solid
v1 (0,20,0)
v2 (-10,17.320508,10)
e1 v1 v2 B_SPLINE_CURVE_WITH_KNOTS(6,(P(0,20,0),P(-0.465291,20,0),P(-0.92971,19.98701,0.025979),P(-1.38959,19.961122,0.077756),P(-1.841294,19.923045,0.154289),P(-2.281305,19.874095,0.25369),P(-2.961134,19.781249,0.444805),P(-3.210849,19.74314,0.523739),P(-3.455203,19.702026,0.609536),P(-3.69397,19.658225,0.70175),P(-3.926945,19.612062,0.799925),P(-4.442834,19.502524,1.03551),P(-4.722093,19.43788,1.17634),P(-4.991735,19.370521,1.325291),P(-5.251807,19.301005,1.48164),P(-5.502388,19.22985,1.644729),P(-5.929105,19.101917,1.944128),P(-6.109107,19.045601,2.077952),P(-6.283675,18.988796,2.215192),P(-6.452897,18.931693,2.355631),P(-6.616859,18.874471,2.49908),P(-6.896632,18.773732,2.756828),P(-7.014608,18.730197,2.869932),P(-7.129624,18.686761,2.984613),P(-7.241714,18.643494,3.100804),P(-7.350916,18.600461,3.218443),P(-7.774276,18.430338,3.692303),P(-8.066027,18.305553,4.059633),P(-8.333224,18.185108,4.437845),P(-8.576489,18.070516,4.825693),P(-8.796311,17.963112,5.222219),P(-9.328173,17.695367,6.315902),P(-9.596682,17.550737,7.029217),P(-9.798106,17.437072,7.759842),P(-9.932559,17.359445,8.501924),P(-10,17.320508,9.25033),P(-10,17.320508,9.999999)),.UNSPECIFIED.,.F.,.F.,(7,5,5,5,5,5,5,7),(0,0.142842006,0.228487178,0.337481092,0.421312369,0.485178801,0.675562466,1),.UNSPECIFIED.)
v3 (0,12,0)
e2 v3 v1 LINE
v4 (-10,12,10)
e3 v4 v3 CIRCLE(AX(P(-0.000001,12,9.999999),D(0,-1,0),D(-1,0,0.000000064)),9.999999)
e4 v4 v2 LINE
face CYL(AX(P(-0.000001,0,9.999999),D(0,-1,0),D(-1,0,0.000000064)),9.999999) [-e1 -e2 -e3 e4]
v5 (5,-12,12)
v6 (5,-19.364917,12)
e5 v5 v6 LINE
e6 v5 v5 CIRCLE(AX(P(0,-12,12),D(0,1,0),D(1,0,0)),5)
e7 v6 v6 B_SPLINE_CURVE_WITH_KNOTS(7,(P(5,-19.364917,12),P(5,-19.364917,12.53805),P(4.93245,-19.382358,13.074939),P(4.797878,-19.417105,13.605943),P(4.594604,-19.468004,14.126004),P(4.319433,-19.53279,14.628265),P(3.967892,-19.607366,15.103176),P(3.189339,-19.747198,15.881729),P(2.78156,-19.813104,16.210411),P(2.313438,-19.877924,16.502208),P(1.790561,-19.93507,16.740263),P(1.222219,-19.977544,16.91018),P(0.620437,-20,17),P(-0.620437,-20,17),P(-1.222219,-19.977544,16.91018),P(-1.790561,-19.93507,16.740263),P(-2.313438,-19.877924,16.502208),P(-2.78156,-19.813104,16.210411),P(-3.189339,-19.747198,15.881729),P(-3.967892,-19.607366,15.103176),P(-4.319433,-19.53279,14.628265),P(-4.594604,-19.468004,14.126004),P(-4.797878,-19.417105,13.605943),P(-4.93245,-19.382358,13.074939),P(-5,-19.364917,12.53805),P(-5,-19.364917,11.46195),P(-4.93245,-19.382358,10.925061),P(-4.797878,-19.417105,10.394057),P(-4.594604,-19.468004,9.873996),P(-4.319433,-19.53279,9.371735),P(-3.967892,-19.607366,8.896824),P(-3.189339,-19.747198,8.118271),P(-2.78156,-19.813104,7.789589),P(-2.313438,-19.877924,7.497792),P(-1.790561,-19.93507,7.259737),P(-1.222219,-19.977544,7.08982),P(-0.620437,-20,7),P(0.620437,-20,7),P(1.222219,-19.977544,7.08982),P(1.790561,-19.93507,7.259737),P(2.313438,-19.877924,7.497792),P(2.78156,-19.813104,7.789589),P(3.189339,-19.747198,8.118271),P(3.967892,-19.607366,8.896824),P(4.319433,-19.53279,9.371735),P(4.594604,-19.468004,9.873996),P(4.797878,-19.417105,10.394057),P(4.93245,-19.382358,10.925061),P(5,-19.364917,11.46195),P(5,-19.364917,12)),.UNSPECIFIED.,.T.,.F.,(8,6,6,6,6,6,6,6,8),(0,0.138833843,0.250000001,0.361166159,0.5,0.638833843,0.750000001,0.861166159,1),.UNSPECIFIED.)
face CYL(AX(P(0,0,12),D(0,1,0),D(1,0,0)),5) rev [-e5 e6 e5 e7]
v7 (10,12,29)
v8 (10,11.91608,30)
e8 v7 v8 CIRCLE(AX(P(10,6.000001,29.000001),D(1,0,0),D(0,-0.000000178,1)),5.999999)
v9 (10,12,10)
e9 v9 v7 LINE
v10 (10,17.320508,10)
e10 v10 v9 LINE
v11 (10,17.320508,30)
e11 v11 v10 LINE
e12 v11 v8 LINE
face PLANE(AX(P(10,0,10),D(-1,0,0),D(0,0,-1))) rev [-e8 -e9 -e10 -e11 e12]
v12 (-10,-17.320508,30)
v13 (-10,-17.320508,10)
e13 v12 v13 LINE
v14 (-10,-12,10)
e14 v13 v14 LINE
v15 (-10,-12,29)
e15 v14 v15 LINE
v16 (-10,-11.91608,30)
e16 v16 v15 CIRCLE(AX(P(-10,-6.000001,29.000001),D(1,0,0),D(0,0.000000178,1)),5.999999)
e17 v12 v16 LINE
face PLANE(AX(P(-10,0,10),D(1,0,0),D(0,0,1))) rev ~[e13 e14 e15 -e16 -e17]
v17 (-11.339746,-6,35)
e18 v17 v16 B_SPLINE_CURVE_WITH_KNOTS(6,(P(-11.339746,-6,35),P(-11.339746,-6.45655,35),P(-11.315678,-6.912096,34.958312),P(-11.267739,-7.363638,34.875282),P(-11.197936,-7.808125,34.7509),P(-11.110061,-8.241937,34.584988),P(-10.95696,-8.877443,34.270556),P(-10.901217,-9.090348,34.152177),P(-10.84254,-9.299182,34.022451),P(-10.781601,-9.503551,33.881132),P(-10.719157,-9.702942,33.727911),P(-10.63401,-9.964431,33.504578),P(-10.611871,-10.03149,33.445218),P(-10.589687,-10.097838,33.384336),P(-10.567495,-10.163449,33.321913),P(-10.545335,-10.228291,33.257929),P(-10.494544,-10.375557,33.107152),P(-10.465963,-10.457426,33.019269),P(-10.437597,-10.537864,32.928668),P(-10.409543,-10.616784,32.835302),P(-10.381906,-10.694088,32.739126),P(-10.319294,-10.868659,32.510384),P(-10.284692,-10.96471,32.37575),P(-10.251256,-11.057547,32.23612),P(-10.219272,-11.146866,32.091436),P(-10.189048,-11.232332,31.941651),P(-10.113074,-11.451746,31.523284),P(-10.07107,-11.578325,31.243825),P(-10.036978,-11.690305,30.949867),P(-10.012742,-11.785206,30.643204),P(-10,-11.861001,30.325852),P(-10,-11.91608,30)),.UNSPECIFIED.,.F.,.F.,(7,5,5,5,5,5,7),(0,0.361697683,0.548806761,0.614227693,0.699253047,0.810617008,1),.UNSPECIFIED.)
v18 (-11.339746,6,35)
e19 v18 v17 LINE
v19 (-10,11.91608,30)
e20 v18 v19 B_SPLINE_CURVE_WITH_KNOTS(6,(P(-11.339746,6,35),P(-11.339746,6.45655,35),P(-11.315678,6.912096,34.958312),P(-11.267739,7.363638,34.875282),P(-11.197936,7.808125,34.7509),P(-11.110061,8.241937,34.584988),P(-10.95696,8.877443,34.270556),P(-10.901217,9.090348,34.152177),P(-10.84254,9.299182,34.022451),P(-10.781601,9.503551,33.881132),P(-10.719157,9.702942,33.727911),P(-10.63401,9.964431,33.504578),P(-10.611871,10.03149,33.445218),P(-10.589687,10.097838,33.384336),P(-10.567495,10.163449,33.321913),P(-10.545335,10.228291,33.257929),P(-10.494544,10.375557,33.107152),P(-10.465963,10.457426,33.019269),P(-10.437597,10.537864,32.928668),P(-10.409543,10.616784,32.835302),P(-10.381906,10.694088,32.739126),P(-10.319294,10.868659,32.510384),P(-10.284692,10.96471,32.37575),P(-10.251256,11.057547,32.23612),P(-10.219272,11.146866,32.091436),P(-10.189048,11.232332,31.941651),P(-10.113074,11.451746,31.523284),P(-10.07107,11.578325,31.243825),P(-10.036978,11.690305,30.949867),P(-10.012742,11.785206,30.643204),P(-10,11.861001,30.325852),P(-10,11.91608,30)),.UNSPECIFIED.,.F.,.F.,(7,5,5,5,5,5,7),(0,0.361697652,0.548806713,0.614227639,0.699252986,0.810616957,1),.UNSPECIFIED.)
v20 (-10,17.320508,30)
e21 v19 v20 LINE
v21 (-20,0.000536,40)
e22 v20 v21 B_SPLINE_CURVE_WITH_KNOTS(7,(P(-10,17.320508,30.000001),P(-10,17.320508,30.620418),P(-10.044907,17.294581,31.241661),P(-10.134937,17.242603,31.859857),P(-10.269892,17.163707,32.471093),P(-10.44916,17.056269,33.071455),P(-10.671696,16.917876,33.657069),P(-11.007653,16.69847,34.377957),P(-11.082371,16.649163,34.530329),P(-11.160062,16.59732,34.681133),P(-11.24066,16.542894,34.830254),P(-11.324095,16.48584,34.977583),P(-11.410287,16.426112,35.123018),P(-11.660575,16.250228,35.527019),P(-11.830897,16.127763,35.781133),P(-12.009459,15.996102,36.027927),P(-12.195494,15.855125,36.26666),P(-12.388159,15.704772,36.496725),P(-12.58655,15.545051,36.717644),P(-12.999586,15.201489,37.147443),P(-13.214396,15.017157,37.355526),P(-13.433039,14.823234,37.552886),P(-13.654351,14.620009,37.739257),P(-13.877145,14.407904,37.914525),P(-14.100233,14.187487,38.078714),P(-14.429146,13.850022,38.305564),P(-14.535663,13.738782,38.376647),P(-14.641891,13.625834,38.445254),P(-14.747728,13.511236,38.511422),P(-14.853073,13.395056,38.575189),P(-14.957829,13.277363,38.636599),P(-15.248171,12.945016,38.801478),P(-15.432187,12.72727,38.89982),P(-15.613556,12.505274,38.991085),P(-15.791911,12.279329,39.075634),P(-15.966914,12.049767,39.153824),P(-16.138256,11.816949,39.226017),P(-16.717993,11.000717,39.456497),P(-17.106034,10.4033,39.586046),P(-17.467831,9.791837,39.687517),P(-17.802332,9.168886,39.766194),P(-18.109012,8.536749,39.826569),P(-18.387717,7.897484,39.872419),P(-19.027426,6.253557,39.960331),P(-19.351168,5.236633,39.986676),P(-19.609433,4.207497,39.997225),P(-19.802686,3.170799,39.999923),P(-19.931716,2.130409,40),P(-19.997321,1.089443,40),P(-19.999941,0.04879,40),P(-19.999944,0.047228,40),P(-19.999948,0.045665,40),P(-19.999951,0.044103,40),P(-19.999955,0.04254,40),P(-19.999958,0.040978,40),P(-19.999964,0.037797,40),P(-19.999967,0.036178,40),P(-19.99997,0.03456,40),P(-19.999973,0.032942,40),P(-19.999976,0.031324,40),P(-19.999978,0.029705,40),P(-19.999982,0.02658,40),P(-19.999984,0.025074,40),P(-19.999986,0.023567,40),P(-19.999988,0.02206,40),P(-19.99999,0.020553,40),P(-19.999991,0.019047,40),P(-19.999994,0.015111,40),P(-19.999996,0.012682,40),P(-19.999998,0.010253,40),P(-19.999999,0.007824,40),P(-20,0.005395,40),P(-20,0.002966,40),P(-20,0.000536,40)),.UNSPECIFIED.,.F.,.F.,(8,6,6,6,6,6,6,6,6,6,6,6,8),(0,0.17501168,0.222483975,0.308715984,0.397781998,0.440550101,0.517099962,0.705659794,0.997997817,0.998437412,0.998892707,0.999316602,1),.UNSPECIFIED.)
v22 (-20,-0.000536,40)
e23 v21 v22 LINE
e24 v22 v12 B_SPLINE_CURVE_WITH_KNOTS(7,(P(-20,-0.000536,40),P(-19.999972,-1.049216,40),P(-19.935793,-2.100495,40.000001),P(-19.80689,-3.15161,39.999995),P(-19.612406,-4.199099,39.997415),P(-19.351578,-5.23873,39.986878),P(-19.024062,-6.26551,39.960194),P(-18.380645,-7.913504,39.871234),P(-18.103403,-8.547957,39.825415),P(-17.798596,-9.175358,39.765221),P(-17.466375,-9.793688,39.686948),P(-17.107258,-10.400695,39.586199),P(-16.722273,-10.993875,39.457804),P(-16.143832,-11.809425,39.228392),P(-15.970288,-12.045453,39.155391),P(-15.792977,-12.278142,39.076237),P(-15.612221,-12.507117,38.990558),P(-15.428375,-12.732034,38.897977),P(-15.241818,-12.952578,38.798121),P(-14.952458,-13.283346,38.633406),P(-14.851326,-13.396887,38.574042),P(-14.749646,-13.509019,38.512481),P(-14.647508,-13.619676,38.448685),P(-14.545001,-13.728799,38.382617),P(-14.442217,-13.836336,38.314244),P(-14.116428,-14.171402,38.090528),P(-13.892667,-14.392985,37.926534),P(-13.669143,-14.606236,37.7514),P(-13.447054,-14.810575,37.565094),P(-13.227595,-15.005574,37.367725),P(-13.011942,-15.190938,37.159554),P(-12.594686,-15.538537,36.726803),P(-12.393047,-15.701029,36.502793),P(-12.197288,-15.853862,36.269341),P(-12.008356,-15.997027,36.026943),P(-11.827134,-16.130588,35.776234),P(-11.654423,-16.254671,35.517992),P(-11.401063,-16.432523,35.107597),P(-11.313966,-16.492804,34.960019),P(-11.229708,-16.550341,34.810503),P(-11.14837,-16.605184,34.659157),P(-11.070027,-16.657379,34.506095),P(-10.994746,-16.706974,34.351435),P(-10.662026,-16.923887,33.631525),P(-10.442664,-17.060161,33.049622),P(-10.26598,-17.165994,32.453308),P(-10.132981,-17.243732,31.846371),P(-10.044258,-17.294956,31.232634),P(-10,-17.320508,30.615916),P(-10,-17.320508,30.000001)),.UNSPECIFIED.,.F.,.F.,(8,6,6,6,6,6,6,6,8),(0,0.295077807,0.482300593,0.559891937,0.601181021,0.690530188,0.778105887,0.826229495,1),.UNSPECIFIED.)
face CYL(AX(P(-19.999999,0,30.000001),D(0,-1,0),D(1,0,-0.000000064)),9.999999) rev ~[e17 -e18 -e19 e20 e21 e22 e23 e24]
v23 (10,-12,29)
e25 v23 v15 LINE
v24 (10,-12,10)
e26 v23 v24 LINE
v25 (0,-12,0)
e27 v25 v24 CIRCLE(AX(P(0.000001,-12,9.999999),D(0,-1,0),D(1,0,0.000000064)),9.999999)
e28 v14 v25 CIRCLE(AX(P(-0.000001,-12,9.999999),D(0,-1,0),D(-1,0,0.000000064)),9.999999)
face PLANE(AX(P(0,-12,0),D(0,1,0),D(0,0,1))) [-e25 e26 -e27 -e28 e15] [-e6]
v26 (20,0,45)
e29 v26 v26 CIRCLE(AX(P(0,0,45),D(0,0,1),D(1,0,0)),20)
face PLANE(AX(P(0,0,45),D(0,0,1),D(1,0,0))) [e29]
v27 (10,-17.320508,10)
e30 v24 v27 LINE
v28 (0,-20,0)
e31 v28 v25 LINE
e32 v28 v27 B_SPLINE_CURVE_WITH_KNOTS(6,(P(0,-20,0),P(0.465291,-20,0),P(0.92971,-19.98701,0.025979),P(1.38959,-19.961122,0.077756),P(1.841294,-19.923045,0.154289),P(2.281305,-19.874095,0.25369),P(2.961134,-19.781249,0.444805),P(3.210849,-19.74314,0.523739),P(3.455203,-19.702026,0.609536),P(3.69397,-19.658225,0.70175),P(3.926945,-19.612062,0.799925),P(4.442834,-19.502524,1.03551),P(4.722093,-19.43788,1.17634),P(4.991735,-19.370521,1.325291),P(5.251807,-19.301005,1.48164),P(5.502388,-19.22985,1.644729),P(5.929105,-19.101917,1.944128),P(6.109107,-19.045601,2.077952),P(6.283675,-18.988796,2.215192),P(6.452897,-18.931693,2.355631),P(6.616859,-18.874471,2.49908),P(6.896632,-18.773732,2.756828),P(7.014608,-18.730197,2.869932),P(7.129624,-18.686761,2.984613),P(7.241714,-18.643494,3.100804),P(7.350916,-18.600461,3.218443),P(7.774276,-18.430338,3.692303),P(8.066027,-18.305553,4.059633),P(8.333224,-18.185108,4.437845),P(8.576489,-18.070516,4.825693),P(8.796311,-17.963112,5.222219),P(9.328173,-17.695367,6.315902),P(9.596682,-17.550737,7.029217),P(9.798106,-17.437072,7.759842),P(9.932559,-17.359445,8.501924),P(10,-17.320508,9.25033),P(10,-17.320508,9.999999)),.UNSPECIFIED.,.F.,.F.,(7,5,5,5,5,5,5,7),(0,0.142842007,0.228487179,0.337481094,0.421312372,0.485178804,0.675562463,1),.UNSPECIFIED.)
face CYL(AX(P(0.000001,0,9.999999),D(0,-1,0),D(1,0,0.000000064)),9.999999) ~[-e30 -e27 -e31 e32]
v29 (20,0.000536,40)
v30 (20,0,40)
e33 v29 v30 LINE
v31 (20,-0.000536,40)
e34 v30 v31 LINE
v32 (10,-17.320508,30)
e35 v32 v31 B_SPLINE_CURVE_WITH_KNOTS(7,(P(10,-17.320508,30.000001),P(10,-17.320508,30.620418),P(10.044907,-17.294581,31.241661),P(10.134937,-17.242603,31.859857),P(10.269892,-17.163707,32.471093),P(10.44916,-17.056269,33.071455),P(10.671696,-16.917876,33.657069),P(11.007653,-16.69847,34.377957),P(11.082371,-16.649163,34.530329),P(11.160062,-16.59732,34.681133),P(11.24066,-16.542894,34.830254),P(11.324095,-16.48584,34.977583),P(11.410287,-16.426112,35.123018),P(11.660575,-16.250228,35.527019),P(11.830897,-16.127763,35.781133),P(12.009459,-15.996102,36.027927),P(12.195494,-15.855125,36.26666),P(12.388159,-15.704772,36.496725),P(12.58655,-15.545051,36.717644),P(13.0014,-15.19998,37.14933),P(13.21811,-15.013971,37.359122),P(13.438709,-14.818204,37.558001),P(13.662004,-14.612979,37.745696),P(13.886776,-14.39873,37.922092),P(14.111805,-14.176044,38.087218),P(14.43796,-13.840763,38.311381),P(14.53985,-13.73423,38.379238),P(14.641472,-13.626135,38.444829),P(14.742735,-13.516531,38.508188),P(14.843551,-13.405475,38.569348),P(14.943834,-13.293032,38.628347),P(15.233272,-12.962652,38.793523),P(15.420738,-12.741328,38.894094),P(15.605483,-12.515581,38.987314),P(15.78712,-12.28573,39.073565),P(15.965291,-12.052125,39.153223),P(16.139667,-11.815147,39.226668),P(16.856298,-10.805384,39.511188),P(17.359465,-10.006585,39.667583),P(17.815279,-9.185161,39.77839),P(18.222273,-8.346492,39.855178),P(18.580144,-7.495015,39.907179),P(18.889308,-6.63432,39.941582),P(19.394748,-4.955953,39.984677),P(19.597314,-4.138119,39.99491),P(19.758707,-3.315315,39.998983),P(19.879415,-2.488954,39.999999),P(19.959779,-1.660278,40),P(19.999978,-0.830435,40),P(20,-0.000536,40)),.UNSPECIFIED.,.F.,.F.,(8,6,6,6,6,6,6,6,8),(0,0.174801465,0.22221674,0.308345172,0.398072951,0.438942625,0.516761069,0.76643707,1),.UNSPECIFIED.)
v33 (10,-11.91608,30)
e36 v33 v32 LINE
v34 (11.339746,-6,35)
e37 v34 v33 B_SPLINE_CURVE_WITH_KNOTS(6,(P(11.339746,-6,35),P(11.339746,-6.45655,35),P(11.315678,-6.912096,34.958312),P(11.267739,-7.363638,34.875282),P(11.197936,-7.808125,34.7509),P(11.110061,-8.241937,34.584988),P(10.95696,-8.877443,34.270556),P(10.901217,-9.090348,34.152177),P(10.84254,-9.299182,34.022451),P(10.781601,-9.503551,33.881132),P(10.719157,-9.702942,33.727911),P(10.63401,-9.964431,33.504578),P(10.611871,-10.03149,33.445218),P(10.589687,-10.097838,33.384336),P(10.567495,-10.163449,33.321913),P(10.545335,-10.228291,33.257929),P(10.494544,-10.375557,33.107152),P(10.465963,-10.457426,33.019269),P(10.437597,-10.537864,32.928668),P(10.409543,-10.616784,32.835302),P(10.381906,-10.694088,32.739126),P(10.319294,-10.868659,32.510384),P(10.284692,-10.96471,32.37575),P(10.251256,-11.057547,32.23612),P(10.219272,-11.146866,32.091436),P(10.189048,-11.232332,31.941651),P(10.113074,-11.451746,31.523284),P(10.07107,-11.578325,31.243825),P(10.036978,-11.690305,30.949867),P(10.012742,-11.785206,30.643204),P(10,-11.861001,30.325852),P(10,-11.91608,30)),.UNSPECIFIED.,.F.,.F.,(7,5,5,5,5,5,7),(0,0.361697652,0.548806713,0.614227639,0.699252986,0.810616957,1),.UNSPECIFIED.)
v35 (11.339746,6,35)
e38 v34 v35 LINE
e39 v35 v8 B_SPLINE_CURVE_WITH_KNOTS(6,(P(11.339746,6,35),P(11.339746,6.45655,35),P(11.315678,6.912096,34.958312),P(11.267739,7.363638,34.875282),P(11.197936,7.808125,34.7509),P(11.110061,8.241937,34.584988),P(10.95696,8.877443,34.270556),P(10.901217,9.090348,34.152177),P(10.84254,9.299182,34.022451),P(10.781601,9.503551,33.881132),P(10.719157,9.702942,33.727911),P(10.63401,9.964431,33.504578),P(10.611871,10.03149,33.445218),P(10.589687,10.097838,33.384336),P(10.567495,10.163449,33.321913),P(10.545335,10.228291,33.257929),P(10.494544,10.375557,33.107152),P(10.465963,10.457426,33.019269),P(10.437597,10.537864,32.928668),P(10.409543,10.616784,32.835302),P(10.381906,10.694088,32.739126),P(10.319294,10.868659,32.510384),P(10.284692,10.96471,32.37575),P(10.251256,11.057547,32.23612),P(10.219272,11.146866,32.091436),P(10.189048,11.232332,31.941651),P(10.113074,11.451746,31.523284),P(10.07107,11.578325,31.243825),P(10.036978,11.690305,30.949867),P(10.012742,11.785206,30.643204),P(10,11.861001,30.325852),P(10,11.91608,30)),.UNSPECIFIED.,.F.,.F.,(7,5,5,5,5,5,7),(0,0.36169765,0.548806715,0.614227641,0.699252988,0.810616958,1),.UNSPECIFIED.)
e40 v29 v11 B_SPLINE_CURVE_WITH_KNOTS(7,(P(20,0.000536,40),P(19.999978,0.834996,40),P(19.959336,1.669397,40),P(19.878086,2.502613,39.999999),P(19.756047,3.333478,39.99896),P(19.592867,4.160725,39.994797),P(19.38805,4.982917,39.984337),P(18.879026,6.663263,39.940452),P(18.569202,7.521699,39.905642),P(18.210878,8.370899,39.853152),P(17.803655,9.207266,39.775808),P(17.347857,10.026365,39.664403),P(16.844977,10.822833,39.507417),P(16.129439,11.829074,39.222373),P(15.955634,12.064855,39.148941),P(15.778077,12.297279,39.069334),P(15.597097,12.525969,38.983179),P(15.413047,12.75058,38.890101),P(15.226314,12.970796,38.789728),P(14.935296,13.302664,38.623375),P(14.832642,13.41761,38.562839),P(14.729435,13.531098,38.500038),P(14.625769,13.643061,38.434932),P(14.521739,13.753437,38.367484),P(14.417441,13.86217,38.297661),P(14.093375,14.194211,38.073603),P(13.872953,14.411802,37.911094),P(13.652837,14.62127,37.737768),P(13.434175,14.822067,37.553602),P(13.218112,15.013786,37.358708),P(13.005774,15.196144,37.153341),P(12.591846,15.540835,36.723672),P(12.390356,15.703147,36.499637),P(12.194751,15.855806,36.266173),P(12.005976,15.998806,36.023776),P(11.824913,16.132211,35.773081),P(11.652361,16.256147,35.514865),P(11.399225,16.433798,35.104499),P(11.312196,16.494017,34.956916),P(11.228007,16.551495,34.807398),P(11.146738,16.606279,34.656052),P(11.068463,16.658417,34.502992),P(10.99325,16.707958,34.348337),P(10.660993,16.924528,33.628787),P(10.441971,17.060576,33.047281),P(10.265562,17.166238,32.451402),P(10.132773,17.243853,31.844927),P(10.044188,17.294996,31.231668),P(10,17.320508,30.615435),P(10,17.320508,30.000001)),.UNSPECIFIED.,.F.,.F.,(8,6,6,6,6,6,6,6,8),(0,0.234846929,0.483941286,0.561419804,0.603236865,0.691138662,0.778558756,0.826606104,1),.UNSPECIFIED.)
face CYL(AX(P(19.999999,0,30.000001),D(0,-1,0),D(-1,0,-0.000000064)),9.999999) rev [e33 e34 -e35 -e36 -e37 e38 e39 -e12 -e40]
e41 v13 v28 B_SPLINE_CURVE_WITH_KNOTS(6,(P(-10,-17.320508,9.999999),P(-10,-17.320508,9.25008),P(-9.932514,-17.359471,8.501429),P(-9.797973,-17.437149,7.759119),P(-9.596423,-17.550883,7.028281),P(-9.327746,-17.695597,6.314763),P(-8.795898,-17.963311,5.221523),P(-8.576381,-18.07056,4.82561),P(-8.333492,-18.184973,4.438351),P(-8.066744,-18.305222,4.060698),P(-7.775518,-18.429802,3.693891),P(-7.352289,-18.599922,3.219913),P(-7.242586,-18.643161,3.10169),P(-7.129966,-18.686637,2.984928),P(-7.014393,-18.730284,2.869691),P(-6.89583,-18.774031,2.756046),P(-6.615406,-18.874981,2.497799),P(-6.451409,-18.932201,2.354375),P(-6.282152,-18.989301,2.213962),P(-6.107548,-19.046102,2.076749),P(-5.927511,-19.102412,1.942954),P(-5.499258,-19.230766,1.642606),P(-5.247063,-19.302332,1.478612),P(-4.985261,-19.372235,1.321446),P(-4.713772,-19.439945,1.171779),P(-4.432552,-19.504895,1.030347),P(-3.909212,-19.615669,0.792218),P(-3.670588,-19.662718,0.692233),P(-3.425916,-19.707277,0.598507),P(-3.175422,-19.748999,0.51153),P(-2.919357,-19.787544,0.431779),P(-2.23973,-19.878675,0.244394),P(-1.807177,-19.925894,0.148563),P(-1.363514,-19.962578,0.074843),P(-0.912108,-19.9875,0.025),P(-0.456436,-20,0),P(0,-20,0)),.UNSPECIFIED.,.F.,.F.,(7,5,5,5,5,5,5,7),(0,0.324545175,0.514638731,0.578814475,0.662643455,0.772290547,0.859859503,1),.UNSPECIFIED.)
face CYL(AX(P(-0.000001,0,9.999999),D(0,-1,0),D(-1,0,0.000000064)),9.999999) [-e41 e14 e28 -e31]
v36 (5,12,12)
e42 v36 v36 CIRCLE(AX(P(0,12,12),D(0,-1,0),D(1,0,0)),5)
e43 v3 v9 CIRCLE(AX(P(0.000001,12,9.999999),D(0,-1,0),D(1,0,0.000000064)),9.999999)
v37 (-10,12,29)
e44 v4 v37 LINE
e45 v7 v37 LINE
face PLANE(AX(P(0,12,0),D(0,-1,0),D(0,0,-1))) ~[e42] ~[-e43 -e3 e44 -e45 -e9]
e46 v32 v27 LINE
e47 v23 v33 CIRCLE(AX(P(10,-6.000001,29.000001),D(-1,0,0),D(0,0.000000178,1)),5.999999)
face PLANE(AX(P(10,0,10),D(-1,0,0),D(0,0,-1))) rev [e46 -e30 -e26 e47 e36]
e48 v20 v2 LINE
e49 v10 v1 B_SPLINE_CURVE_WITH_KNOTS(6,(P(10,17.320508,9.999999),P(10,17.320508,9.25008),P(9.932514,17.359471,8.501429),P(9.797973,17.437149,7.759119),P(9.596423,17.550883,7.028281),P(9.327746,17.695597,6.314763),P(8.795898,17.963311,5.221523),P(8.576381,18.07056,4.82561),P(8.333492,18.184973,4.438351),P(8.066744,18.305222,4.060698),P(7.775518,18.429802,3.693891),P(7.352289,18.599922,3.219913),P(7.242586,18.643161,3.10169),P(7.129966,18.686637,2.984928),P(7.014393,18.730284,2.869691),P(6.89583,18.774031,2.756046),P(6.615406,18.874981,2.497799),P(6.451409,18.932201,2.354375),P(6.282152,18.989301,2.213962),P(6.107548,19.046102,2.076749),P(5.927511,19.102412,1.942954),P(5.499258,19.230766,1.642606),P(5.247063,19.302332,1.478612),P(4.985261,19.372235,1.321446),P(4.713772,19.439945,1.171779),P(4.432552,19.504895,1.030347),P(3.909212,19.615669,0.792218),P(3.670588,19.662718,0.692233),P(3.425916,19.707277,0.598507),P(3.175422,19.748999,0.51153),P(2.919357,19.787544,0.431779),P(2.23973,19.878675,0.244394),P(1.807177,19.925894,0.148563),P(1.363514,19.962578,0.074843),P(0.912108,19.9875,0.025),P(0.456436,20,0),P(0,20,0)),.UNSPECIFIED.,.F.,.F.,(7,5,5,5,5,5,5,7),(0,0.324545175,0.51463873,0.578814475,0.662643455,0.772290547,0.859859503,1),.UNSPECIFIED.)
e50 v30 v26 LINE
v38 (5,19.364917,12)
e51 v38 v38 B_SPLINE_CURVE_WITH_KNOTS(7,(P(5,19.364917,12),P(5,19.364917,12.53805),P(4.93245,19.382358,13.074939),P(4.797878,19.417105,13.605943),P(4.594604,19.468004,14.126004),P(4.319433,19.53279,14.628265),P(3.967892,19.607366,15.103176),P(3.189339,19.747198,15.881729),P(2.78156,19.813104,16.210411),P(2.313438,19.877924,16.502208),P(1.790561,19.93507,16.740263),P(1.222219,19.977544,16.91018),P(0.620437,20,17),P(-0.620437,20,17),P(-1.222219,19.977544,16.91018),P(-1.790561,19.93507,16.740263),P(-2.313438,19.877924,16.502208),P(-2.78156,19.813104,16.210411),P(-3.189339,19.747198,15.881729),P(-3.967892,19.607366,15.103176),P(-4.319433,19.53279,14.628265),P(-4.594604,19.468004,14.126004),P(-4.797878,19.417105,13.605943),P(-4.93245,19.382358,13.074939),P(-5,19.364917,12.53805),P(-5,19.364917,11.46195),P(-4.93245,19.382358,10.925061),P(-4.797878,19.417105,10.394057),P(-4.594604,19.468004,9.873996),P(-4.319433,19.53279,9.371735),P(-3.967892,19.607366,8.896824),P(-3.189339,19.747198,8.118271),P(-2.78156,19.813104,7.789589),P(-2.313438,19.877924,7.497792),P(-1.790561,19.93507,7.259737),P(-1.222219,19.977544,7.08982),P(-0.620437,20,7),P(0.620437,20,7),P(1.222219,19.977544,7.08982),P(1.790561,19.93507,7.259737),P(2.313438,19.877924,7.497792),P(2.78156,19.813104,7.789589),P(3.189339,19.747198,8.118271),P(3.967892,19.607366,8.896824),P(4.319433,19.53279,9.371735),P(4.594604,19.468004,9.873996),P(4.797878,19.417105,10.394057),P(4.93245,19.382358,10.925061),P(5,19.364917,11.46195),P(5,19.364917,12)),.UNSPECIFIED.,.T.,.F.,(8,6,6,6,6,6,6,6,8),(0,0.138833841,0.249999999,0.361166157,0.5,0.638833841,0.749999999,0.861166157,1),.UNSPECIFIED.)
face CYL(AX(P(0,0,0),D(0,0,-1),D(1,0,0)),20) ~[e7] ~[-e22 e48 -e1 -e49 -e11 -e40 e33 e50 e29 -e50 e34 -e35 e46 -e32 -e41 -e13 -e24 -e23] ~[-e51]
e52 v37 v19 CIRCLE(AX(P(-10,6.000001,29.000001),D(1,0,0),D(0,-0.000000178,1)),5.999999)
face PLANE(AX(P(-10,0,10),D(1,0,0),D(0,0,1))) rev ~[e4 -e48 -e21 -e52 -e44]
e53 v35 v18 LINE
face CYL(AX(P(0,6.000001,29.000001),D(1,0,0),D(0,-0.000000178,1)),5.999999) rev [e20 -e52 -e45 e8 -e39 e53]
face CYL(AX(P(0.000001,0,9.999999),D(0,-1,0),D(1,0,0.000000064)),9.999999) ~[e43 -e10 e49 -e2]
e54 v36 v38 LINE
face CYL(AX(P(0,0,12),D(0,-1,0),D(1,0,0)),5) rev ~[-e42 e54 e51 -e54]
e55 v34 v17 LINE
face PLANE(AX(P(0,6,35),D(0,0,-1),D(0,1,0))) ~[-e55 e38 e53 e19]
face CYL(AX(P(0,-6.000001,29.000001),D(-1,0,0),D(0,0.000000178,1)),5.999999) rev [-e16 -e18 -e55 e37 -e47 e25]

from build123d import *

# Parameters (mm, degrees)
CYLINDER_R           = 20
CYLINDER_DEPTH       = 45
POCKET_DEPTH         = 164.569323
POCKET_DEPTH_BACK    = 164.569323
POCKET001_DEPTH      = 164.569324
POCKET001_DEPTH_BACK = 164.569324
SKETCH002_R          = 5
POCKET002_DEPTH      = 20.001
POCKET002_DEPTH_BACK = 20.001


with BuildPart() as part:
    # Cylinder → Cylinder (join)
    with BuildSketch(Plane.XY):
        Circle(CYLINDER_R)
    extrude(amount=CYLINDER_DEPTH)

    # Sketch → Pocket (cut, two sides)
    with BuildSketch(Plane.XZ) as pocket_sk:
        with BuildLine():
            ThreePointArc((-10, 10), (-7.071068, 2.928932), (0, 0))
            Line((-30, 0), (0, 0))
            Line((-30, 40), (-30, 0))
            Line((-20, 40), (-30, 40))
            ThreePointArc((-10, 30), (-12.928932, 37.071068), (-20, 40))
            Line((-10, 10), (-10, 30))
        make_face()
    pocket = extrude(amount=-POCKET_DEPTH, mode=Mode.SUBTRACT) + extrude(pocket_sk.sketch, amount=POCKET_DEPTH_BACK, mode=Mode.SUBTRACT)

    # Mirrored: Pocket across Sketch V_Axis
    add(pocket.mirror(Plane(origin=(0, 0, 0), x_dir=(0, -1, 0), z_dir=(1, 0, 0))), mode=Mode.SUBTRACT)

    # Sketch001 → Pocket001 (cut, two sides)
    with BuildSketch(Plane.YZ) as pocket001_sk:
        with BuildLine():
            Line((-12, 0), (-12, 29))
            ThreePointArc((-6, 35), (-10.242641, 33.242641), (-12, 29))
            Line((-6, 35), (0, 35))
            Line((0, 35), (0, 0))
            Line((0, 0), (-12, 0))
        make_face()
    pocket001 = extrude(amount=-POCKET001_DEPTH, mode=Mode.SUBTRACT) + extrude(pocket001_sk.sketch, amount=POCKET001_DEPTH_BACK, mode=Mode.SUBTRACT)

    # Mirrored001: Pocket001 across Sketch001 V_Axis
    add(pocket001.mirror(Plane(origin=(0, 0, 0), x_dir=(1, 0, 0), z_dir=(0, 1, 0))), mode=Mode.SUBTRACT)

    # Sketch002 → Pocket002 (cut, two sides)
    with BuildSketch(Plane.XZ) as pocket002_sk:
        with Locations((0, 12)):
            Circle(SKETCH002_R)
    extrude(amount=-POCKET002_DEPTH, mode=Mode.SUBTRACT)
    extrude(pocket002_sk.sketch, amount=POCKET002_DEPTH_BACK, mode=Mode.SUBTRACT)


solid = part.part
